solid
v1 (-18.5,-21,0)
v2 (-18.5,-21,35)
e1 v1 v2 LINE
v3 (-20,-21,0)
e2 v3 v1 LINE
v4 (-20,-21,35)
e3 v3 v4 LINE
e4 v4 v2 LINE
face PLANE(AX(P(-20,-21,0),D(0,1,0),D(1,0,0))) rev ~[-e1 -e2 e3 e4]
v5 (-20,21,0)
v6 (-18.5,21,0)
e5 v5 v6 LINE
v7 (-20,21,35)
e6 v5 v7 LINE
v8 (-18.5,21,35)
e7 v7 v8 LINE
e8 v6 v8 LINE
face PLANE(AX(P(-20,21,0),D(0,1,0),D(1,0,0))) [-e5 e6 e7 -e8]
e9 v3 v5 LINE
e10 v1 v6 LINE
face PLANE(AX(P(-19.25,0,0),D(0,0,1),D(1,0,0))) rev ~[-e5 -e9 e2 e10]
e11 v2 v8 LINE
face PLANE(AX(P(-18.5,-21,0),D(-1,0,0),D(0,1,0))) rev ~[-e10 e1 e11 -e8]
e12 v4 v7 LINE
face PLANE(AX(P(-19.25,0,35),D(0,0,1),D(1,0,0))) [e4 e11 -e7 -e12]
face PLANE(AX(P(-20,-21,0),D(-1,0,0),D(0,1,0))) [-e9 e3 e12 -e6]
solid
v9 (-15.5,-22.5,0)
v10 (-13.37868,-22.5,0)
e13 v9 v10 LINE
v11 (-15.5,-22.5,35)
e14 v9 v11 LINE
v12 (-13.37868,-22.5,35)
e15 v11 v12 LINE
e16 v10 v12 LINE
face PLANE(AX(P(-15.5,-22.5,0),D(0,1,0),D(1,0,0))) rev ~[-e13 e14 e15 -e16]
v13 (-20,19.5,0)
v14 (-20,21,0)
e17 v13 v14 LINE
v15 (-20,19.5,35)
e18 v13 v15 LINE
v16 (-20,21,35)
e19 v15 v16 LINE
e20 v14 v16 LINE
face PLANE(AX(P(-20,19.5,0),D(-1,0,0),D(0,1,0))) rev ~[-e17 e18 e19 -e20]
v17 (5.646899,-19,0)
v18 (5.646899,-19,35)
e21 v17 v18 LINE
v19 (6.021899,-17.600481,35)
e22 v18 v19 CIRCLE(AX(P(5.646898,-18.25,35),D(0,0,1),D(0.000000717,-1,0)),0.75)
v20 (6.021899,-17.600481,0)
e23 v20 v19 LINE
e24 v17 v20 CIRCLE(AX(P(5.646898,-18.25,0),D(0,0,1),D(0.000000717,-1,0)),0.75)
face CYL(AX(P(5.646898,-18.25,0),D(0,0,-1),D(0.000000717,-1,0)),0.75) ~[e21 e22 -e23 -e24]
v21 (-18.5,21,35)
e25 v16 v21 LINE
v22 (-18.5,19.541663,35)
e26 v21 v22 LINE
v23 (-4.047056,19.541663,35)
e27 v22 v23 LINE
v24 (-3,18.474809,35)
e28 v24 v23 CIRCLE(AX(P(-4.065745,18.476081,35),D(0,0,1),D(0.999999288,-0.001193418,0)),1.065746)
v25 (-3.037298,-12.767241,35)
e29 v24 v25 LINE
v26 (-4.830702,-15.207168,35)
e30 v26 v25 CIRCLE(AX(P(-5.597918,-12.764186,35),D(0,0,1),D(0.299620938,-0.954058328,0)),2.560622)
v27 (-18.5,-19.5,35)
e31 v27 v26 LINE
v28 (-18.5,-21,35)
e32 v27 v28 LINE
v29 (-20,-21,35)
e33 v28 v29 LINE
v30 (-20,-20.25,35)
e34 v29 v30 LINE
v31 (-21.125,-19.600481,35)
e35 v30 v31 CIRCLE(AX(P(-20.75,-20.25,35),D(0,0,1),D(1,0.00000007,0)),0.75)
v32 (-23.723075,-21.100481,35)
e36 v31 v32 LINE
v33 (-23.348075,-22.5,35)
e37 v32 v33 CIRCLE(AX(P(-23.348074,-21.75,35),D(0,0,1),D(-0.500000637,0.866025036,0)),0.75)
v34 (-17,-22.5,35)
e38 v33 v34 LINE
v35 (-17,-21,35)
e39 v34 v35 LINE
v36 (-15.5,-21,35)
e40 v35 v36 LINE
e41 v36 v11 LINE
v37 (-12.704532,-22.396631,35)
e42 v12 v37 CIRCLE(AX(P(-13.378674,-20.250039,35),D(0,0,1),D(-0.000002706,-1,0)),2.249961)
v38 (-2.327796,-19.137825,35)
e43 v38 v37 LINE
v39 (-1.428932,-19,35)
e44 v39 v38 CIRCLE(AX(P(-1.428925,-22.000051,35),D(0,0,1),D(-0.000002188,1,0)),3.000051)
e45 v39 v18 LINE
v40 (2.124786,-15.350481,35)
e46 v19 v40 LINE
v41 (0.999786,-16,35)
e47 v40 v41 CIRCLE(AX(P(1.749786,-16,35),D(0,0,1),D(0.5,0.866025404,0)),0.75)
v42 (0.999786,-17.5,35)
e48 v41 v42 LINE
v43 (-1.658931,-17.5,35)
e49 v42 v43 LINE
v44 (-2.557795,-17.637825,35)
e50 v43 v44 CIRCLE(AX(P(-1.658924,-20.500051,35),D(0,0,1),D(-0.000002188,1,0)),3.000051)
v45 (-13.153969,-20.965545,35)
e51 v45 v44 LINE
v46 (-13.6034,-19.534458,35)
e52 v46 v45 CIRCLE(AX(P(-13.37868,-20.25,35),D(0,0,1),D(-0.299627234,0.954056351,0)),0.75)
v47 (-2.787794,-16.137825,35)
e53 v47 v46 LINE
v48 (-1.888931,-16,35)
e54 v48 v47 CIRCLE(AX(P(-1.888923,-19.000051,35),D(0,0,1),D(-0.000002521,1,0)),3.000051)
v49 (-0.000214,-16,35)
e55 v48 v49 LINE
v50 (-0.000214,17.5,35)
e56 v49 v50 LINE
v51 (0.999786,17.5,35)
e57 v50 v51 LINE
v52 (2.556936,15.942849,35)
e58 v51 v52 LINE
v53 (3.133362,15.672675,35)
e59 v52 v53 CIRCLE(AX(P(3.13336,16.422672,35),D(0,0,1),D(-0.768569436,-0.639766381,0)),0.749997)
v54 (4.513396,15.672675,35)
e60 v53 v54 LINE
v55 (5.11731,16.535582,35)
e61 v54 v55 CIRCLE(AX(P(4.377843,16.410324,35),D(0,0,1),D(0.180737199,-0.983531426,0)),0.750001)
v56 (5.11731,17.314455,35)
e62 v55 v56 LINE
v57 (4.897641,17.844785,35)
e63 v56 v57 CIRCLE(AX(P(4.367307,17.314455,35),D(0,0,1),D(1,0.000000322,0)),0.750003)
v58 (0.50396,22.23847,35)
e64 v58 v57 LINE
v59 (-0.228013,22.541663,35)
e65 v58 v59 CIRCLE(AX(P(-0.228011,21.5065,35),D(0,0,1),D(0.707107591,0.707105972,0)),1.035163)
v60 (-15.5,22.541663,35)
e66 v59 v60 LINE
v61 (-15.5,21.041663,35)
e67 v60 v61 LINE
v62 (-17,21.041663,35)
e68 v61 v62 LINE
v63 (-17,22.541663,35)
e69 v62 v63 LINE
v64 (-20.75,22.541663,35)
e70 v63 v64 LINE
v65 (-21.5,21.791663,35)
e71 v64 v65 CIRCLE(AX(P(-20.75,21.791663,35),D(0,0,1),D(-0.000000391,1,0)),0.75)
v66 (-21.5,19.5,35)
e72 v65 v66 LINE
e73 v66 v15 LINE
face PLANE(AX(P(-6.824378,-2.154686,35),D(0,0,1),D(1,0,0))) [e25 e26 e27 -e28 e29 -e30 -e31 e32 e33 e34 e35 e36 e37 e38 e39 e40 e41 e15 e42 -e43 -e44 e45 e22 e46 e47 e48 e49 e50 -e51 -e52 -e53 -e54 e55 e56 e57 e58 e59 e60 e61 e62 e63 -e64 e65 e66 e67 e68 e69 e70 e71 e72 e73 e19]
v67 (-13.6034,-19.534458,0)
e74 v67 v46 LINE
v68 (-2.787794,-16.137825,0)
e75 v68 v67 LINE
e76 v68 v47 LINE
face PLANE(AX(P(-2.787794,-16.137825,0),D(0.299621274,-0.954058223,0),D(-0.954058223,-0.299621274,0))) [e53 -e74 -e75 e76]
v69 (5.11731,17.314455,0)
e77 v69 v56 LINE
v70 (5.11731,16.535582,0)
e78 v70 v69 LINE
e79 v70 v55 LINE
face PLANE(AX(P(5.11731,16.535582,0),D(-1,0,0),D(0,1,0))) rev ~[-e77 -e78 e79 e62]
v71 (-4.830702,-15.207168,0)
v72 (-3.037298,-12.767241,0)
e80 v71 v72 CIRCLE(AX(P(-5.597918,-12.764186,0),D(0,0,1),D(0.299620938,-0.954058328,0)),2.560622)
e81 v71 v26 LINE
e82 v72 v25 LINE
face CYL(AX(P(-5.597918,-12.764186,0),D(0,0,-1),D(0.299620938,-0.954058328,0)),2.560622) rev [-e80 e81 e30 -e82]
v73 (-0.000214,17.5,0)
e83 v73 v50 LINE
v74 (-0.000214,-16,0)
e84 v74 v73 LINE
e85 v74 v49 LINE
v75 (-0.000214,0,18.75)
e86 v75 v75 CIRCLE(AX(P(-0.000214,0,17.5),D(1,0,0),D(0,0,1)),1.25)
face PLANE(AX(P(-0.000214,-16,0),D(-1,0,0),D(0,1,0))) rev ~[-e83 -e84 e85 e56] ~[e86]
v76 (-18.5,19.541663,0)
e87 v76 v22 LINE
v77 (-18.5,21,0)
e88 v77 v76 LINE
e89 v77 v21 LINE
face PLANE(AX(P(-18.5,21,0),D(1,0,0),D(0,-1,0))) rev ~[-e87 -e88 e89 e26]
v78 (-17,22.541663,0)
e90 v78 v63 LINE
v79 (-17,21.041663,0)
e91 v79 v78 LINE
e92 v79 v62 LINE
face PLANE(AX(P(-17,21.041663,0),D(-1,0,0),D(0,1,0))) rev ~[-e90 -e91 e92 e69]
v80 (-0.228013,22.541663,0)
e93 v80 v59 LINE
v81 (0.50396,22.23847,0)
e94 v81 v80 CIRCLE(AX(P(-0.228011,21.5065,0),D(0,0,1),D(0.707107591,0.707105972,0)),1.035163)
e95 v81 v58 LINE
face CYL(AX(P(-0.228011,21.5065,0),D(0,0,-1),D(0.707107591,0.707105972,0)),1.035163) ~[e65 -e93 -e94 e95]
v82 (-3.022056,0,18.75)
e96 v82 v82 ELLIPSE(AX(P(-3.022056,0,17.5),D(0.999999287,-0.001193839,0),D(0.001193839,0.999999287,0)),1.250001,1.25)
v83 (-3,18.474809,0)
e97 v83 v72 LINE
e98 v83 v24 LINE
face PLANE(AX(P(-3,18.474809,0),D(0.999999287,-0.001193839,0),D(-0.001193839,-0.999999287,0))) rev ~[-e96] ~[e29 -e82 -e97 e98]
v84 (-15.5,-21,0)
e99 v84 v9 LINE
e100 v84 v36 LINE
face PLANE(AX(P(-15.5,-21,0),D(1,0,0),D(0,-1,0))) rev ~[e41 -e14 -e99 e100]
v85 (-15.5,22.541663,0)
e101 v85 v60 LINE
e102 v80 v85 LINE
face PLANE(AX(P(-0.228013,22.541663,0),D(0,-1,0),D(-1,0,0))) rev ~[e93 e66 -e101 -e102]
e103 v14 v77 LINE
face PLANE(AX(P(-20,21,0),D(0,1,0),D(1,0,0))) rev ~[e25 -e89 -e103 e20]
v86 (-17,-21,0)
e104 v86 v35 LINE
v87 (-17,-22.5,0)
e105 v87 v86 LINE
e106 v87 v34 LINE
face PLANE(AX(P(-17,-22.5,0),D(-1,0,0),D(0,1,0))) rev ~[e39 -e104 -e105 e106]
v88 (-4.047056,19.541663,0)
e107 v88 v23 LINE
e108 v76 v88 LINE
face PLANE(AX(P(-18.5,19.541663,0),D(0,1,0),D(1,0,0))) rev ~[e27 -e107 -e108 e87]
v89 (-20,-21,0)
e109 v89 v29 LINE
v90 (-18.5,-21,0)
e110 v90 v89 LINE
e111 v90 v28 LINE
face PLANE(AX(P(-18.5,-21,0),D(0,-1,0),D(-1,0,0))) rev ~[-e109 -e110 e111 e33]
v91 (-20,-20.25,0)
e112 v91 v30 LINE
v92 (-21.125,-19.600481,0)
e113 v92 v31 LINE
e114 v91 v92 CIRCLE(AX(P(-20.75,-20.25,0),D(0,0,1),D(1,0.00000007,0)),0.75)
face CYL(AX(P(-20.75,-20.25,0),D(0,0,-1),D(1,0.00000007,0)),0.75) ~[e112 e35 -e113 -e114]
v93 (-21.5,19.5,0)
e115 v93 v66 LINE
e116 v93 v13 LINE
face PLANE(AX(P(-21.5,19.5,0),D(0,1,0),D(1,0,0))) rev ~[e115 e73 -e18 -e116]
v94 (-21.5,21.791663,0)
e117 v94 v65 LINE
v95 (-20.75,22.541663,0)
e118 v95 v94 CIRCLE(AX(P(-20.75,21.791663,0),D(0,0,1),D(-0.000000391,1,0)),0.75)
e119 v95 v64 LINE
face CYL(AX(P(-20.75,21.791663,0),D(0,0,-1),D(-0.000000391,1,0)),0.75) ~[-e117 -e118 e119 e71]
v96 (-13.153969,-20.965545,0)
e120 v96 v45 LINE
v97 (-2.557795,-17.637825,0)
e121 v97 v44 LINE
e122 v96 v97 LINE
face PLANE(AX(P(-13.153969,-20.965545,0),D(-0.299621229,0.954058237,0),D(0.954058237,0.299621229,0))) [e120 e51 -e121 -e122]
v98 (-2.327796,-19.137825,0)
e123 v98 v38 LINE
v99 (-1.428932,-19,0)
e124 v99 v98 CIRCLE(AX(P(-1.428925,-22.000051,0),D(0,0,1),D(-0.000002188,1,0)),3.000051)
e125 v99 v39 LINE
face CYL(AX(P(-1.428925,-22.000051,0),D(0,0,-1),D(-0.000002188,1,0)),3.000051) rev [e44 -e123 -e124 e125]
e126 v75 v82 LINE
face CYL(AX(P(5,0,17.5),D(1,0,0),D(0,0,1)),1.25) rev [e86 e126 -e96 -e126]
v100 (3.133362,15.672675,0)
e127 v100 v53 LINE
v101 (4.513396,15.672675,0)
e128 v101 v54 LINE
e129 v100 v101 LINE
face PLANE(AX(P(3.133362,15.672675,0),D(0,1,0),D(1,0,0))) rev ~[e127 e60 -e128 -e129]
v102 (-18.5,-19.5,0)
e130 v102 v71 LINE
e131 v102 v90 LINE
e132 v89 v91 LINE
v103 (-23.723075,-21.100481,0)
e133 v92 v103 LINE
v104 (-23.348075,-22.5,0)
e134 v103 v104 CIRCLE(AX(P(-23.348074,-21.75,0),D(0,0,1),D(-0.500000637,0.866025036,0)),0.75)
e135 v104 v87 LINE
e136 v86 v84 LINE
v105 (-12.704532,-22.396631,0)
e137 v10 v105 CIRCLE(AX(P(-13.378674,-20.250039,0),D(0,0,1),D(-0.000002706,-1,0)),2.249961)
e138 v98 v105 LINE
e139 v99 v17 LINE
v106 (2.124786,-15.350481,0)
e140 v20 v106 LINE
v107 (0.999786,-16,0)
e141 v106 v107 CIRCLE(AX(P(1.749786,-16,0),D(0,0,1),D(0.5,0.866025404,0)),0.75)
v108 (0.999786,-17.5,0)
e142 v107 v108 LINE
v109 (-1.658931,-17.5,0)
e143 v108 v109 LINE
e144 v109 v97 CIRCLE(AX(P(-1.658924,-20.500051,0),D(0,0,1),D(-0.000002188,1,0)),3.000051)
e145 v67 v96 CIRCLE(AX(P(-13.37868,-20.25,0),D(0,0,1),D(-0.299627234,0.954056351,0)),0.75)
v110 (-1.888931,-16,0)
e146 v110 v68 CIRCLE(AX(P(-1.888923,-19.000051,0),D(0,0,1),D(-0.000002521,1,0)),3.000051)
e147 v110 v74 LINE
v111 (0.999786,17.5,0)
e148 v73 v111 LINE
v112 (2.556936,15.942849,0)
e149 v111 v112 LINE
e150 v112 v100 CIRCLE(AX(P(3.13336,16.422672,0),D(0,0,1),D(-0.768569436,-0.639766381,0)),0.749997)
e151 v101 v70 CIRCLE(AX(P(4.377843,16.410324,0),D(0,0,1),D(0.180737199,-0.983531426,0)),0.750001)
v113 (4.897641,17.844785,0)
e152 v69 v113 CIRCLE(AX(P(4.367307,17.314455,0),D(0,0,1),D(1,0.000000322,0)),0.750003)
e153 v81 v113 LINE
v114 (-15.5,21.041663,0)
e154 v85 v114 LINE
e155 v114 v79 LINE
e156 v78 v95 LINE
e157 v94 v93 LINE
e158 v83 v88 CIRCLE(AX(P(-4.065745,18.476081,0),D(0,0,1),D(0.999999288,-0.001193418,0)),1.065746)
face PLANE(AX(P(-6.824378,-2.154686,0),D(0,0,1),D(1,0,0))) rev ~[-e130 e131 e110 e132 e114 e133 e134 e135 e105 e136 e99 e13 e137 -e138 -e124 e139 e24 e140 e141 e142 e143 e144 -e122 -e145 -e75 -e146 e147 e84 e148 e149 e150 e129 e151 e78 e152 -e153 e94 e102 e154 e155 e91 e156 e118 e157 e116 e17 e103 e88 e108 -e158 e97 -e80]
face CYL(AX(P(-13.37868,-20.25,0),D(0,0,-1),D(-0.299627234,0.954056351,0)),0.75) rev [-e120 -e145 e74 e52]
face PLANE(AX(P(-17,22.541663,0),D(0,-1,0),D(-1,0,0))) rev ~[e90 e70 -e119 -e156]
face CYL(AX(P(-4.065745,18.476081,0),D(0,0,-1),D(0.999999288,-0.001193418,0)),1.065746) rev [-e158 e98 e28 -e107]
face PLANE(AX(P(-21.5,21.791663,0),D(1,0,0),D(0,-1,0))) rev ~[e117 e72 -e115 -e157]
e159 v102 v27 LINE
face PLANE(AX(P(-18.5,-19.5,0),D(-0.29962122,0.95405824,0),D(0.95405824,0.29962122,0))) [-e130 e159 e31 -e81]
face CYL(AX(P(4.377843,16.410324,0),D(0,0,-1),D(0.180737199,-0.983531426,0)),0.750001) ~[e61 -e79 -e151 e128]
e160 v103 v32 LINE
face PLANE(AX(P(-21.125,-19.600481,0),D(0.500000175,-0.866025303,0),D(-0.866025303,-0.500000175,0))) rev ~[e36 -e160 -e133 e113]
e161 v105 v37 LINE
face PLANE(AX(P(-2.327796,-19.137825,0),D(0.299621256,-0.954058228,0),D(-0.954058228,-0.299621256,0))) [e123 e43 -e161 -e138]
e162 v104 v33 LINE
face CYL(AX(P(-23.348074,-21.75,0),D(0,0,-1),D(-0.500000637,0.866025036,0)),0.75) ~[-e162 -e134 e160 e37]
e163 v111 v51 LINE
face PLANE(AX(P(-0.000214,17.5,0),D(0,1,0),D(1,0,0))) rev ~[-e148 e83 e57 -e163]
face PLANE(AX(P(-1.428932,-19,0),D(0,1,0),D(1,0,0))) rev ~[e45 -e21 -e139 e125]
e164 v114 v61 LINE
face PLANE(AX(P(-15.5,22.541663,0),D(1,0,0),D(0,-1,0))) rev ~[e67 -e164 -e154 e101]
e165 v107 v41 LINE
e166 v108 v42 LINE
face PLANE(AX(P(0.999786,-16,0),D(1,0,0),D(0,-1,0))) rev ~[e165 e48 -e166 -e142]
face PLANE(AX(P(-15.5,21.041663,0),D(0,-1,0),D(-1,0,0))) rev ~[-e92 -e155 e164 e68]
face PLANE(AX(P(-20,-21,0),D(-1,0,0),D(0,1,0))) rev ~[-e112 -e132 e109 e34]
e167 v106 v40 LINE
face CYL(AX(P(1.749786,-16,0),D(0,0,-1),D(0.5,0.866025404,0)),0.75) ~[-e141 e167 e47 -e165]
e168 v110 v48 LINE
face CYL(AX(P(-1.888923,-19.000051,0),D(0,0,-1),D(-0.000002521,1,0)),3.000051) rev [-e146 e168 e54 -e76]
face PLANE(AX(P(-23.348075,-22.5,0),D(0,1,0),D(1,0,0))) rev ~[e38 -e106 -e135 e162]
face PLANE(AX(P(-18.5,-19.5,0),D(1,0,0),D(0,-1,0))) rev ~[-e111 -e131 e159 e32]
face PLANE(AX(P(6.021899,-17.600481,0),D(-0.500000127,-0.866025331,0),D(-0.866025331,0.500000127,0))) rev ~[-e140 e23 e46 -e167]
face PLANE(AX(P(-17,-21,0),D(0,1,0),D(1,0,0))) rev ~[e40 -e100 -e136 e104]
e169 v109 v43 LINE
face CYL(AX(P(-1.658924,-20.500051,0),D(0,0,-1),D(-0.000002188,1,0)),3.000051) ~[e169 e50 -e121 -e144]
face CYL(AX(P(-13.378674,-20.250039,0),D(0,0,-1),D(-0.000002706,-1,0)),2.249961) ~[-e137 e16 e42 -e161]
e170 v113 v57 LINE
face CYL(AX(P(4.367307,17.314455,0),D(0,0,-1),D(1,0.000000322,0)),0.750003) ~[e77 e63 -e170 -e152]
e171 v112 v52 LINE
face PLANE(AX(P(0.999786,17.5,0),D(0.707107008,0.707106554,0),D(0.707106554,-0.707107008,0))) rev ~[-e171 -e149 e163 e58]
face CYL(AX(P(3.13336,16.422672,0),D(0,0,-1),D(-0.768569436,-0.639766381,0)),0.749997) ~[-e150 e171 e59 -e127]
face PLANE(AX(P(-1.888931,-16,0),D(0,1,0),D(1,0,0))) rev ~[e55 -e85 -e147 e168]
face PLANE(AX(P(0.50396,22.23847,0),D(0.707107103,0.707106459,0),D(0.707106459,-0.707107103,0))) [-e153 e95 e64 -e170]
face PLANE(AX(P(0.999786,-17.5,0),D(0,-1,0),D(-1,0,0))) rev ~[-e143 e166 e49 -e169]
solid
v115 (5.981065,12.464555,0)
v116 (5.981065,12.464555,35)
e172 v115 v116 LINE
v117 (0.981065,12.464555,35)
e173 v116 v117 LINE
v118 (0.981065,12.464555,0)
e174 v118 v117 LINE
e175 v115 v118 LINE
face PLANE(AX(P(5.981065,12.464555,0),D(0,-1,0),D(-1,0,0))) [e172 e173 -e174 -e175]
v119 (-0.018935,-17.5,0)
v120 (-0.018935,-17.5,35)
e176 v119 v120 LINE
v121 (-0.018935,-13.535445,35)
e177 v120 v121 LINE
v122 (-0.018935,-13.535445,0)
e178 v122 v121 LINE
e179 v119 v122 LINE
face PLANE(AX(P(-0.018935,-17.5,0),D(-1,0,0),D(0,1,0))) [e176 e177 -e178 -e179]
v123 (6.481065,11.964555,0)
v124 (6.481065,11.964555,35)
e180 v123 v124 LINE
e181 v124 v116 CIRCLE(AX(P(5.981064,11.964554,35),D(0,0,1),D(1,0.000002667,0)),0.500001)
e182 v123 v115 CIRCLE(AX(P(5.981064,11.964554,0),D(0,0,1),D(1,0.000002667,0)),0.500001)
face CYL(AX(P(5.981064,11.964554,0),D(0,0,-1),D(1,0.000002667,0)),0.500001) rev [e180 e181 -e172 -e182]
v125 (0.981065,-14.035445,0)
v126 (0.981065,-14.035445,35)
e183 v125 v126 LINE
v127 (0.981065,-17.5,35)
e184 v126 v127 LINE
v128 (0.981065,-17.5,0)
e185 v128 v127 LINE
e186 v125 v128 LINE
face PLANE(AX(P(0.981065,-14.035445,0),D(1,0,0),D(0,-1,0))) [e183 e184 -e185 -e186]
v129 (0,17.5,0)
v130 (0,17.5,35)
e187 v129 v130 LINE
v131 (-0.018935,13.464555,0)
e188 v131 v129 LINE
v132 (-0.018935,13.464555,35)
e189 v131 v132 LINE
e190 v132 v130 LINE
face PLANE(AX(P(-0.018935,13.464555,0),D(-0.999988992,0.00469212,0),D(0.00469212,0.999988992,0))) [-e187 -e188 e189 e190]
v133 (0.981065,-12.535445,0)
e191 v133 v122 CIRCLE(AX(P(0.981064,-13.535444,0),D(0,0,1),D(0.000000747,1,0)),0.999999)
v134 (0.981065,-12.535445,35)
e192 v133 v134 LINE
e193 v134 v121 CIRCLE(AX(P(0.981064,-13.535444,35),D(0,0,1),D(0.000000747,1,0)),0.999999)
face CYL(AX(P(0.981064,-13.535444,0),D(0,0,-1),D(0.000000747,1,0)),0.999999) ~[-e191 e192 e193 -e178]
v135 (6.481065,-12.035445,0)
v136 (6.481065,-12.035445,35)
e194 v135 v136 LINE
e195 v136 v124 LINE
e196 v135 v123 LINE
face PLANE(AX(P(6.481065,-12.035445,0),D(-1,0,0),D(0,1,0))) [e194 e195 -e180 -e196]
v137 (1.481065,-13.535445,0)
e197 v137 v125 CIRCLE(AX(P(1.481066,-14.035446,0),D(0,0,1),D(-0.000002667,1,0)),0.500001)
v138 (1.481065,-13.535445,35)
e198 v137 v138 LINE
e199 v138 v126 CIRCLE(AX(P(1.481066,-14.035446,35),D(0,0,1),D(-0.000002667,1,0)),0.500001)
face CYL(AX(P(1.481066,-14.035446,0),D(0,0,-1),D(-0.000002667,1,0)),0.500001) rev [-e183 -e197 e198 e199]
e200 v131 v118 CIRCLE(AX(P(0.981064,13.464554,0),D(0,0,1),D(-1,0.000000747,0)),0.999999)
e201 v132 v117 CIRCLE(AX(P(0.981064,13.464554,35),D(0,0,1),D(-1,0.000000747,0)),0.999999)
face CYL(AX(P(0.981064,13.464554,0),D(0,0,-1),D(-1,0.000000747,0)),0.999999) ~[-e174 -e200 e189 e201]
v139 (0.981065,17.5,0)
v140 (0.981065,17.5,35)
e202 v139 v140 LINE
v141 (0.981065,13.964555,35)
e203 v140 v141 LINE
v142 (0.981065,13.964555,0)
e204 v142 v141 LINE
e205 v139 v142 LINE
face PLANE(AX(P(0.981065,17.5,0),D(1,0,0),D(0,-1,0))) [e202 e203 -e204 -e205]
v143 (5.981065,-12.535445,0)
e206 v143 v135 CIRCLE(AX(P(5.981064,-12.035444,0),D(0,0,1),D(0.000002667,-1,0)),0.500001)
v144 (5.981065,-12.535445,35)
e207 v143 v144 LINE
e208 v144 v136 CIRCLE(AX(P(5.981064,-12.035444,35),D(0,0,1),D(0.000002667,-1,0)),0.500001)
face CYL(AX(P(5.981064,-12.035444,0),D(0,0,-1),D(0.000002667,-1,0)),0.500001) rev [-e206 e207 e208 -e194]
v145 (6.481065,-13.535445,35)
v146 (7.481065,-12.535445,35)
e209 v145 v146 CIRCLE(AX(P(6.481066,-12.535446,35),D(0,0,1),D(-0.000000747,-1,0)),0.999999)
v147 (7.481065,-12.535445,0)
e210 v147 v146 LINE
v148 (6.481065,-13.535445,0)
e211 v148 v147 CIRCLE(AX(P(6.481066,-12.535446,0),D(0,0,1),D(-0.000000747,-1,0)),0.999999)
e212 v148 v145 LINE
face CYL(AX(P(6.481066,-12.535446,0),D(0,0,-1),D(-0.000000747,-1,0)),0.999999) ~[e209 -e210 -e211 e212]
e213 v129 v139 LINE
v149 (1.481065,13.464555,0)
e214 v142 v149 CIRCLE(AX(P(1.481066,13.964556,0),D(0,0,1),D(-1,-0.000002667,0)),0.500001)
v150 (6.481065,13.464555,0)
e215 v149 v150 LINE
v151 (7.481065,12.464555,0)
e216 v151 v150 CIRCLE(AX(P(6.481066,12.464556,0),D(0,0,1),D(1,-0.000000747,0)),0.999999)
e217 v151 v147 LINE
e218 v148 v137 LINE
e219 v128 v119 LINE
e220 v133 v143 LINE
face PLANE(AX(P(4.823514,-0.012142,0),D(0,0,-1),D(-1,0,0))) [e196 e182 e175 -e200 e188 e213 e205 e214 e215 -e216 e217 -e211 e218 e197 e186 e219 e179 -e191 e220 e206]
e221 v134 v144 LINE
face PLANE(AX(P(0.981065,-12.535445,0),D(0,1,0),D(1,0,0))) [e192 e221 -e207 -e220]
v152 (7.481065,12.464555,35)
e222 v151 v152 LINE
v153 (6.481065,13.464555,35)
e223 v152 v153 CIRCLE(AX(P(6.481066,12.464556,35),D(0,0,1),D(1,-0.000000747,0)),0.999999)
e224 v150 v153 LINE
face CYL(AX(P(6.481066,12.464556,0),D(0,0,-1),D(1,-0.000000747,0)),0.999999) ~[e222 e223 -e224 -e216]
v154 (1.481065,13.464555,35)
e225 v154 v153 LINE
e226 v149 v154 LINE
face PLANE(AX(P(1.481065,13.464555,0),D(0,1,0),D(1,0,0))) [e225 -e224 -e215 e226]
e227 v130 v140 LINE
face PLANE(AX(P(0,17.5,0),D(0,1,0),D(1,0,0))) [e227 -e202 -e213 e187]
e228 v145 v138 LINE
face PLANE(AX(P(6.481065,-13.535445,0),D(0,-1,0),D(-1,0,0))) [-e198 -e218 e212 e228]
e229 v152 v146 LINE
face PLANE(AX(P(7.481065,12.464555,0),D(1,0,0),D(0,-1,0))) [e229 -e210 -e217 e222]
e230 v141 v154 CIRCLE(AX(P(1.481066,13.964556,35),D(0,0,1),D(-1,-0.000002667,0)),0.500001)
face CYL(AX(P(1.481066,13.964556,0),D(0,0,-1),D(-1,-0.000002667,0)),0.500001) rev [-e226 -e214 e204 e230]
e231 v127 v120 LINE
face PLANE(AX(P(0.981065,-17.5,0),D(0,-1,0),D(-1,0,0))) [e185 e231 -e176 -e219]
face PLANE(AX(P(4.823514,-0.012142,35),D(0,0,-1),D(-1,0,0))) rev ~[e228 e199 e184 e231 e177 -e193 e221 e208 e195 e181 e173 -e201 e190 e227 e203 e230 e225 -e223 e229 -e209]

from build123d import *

# Parameters (mm, degrees)
PAD001_DEPTH         = 35
BOX_W                = 1.5
BOX_H                = 42
BOX_DEPTH            = 35
CYLINDER_R           = 1.25
CYLINDER_DEPTH       = 10
CYLINDER_PITCH_ANGLE = -90
PAD_DEPTH            = 35


with BuildPart() as din_rail:
    # Sketch001 → Pad001 (new body)
    with BuildSketch(Plane(origin=(0, 17.5, 0), x_dir=(1, 0, 0), z_dir=(0, 0, 1))):
        with BuildLine():
            Line((0, 0), (0.981065, 0))
            Line((0.981065, 0), (0.981065, -3.535445))
            ThreePointArc((0.981065, -3.535445), (1.127512, -3.888998), (1.481065, -4.035445))
            Line((1.481065, -4.035445), (6.481065, -4.035445))
            ThreePointArc((7.481065, -5.035445), (7.188172, -4.328338), (6.481065, -4.035445))
            Line((7.481065, -5.035445), (7.481065, -30.035445))
            ThreePointArc((6.481065, -31.035445), (7.188172, -30.742552), (7.481065, -30.035445))
            Line((6.481065, -31.035445), (1.481065, -31.035445))
            ThreePointArc((1.481065, -31.035445), (1.127512, -31.181892), (0.981065, -31.535445))
            Line((0.981065, -31.535445), (0.981065, -35))
            Line((0.981065, -35), (-0.018935, -35))
            Line((-0.018935, -35), (-0.018935, -31.035445))
            ThreePointArc((0.981065, -30.035445), (0.273958, -30.328338), (-0.018935, -31.035445))
            Line((0.981065, -30.035445), (5.981065, -30.035445))
            ThreePointArc((5.981065, -30.035445), (6.334618, -29.888998), (6.481065, -29.535445))
            Line((6.481065, -29.535445), (6.481065, -5.535445))
            ThreePointArc((6.481065, -5.535445), (6.334618, -5.181892), (5.981065, -5.035445))
            Line((5.981065, -5.035445), (0.981065, -5.035445))
            ThreePointArc((-0.018935, -4.035445), (0.273958, -4.742552), (0.981065, -5.035445))
            Line((-0.018935, -4.035445), (0, 0))
        make_face()
    extrude(amount=PAD001_DEPTH)


with BuildPart() as pcb:
    # Box → Box (new body)
    with BuildSketch(Plane(origin=(-20, -21, 0), x_dir=(1, 0, 0), z_dir=(0, 0, 1))):
        with Locations((0.75, 21)):
            Rectangle(BOX_W, BOX_H)
    extrude(amount=BOX_DEPTH)


with BuildPart() as bracket_hole:
    # Cylinder → Cylinder (new body)
    with BuildSketch(Plane.XY):
        Circle(CYLINDER_R)
    extrude(amount=CYLINDER_DEPTH)


with BuildPart() as bracket_hole_1:
    # Cylinder pitch: moved
    add(bracket_hole.part.rotate(Axis((0, 0, 0), (0, 1, 0)), CYLINDER_PITCH_ANGLE))


with BuildPart() as bracket_hole_2:
    # Cylinder placement: moved
    add(bracket_hole_1.part.moved(Location((5, 0, 17.5))))


with BuildPart() as din_bracket:
    # Sketch → Pad (new body)
    with BuildSketch(Plane(origin=(-3, 0, 0), x_dir=(1, 0, 0), z_dir=(0, 0, 1))):
        with BuildLine():
            Line((2.771987, 22.541663), (-12.5, 22.541663))
            Line((-12.5, 22.541663), (-12.5, 21.041663))
            Line((-12.5, 21.041663), (-14, 21.041663))
            Line((-14, 21.041663), (-14, 22.541663))
            Line((-14, 22.541663), (-17.75, 22.541663))
            ThreePointArc((-17.75, 22.541663), (-18.28033, 22.321993), (-18.5, 21.791663))
            Line((-18.5, 21.791663), (-18.5, 19.5))
            Line((-18.5, 19.5), (-17, 19.5))
            Line((-17, 19.5), (-17, 21))
            Line((-17, 21), (-15.5, 21))
            Line((-15.5, 21), (-15.5, 19.541663))
            Line((-15.5, 19.541663), (-1.047056, 19.541663))
            ThreePointArc((0, 18.474809), (-0.305125, 19.222587), (-1.047056, 19.541663))
            Line((0, 18.474809), (-0.037298, -12.767241))
            ThreePointArc((-1.830702, -15.207168), (-0.534684, -14.280711), (-0.037298, -12.767241))
            Line((-15.5, -19.5), (-1.830702, -15.207168))
            Line((-15.5, -19.5), (-15.5, -21))
            Line((-15.5, -21), (-17, -21))
            Line((-17, -21), (-17, -20.25))
            ThreePointArc((-17, -20.25), (-17.375, -19.600481), (-18.125, -19.600481))
            Line((-18.125, -19.600481), (-20.723075, -21.100481))
            ThreePointArc((-20.723075, -21.100481), (-21.072519, -21.944114), (-20.348075, -22.5))
            Line((-20.348075, -22.5), (-14, -22.5))
            Line((-14, -22.5), (-14, -21))
            Line((-14, -21), (-12.5, -21))
            Line((-12.5, -21), (-12.5, -22.5))
            Line((-12.5, -22.5), (-10.37868, -22.5))
            ThreePointArc((-10.37868, -22.5), (-10.037666, -22.474008), (-9.704532, -22.396631))
            Line((0.672204, -19.137825), (-9.704532, -22.396631))
            ThreePointArc((1.571068, -19), (1.116383, -19.034657), (0.672204, -19.137825))
            Line((1.571068, -19), (8.646899, -19))
            ThreePointArc((8.646899, -19), (9.371343, -18.444114), (9.021899, -17.600481))
            Line((9.021899, -17.600481), (5.124786, -15.350481))
            ThreePointArc((5.124786, -15.350481), (4.374786, -15.350481), (3.999786, -16))
            Line((3.999786, -16), (3.999786, -17.5))
            Line((3.999786, -17.5), (1.341069, -17.5))
            ThreePointArc((1.341069, -17.5), (0.886384, -17.534657), (0.442205, -17.637825))
            Line((-10.153969, -20.965545), (0.442205, -17.637825))
            ThreePointArc((-10.6034, -19.534458), (-11.094223, -20.474716), (-10.153969, -20.965545))
            Line((0.212206, -16.137825), (-10.6034, -19.534458))
            ThreePointArc((1.111069, -16), (0.656385, -16.034657), (0.212206, -16.137825))
            Line((1.111069, -16), (2.999786, -16))
            Line((2.999786, -16), (2.999786, 17.5))
            Line((2.999786, 17.5), (3.999786, 17.5))
            Line((3.999786, 17.5), (5.556936, 15.942849))
            ThreePointArc((5.556936, 15.942849), (5.815061, 15.743569), (6.133362, 15.672675))
            Line((6.133362, 15.672675), (7.513396, 15.672675))
            ThreePointArc((7.513396, 15.672675), (7.992308, 15.980285), (8.11731, 16.535582))
            Line((8.11731, 16.535582), (8.11731, 17.314455))
            ThreePointArc((8.11731, 17.314455), (8.06022, 17.601467), (7.897641, 17.844785))
            Line((3.50396, 22.23847), (7.897641, 17.844785))
            ThreePointArc((3.50396, 22.23847), (3.168128, 22.462866), (2.771987, 22.541663))
        make_face()
    extrude(amount=PAD_DEPTH)

    # Cut: cut bracket hole
    add(bracket_hole_2.part, mode=Mode.SUBTRACT)


solid = Compound([din_rail.part, pcb.part, din_bracket.part])
